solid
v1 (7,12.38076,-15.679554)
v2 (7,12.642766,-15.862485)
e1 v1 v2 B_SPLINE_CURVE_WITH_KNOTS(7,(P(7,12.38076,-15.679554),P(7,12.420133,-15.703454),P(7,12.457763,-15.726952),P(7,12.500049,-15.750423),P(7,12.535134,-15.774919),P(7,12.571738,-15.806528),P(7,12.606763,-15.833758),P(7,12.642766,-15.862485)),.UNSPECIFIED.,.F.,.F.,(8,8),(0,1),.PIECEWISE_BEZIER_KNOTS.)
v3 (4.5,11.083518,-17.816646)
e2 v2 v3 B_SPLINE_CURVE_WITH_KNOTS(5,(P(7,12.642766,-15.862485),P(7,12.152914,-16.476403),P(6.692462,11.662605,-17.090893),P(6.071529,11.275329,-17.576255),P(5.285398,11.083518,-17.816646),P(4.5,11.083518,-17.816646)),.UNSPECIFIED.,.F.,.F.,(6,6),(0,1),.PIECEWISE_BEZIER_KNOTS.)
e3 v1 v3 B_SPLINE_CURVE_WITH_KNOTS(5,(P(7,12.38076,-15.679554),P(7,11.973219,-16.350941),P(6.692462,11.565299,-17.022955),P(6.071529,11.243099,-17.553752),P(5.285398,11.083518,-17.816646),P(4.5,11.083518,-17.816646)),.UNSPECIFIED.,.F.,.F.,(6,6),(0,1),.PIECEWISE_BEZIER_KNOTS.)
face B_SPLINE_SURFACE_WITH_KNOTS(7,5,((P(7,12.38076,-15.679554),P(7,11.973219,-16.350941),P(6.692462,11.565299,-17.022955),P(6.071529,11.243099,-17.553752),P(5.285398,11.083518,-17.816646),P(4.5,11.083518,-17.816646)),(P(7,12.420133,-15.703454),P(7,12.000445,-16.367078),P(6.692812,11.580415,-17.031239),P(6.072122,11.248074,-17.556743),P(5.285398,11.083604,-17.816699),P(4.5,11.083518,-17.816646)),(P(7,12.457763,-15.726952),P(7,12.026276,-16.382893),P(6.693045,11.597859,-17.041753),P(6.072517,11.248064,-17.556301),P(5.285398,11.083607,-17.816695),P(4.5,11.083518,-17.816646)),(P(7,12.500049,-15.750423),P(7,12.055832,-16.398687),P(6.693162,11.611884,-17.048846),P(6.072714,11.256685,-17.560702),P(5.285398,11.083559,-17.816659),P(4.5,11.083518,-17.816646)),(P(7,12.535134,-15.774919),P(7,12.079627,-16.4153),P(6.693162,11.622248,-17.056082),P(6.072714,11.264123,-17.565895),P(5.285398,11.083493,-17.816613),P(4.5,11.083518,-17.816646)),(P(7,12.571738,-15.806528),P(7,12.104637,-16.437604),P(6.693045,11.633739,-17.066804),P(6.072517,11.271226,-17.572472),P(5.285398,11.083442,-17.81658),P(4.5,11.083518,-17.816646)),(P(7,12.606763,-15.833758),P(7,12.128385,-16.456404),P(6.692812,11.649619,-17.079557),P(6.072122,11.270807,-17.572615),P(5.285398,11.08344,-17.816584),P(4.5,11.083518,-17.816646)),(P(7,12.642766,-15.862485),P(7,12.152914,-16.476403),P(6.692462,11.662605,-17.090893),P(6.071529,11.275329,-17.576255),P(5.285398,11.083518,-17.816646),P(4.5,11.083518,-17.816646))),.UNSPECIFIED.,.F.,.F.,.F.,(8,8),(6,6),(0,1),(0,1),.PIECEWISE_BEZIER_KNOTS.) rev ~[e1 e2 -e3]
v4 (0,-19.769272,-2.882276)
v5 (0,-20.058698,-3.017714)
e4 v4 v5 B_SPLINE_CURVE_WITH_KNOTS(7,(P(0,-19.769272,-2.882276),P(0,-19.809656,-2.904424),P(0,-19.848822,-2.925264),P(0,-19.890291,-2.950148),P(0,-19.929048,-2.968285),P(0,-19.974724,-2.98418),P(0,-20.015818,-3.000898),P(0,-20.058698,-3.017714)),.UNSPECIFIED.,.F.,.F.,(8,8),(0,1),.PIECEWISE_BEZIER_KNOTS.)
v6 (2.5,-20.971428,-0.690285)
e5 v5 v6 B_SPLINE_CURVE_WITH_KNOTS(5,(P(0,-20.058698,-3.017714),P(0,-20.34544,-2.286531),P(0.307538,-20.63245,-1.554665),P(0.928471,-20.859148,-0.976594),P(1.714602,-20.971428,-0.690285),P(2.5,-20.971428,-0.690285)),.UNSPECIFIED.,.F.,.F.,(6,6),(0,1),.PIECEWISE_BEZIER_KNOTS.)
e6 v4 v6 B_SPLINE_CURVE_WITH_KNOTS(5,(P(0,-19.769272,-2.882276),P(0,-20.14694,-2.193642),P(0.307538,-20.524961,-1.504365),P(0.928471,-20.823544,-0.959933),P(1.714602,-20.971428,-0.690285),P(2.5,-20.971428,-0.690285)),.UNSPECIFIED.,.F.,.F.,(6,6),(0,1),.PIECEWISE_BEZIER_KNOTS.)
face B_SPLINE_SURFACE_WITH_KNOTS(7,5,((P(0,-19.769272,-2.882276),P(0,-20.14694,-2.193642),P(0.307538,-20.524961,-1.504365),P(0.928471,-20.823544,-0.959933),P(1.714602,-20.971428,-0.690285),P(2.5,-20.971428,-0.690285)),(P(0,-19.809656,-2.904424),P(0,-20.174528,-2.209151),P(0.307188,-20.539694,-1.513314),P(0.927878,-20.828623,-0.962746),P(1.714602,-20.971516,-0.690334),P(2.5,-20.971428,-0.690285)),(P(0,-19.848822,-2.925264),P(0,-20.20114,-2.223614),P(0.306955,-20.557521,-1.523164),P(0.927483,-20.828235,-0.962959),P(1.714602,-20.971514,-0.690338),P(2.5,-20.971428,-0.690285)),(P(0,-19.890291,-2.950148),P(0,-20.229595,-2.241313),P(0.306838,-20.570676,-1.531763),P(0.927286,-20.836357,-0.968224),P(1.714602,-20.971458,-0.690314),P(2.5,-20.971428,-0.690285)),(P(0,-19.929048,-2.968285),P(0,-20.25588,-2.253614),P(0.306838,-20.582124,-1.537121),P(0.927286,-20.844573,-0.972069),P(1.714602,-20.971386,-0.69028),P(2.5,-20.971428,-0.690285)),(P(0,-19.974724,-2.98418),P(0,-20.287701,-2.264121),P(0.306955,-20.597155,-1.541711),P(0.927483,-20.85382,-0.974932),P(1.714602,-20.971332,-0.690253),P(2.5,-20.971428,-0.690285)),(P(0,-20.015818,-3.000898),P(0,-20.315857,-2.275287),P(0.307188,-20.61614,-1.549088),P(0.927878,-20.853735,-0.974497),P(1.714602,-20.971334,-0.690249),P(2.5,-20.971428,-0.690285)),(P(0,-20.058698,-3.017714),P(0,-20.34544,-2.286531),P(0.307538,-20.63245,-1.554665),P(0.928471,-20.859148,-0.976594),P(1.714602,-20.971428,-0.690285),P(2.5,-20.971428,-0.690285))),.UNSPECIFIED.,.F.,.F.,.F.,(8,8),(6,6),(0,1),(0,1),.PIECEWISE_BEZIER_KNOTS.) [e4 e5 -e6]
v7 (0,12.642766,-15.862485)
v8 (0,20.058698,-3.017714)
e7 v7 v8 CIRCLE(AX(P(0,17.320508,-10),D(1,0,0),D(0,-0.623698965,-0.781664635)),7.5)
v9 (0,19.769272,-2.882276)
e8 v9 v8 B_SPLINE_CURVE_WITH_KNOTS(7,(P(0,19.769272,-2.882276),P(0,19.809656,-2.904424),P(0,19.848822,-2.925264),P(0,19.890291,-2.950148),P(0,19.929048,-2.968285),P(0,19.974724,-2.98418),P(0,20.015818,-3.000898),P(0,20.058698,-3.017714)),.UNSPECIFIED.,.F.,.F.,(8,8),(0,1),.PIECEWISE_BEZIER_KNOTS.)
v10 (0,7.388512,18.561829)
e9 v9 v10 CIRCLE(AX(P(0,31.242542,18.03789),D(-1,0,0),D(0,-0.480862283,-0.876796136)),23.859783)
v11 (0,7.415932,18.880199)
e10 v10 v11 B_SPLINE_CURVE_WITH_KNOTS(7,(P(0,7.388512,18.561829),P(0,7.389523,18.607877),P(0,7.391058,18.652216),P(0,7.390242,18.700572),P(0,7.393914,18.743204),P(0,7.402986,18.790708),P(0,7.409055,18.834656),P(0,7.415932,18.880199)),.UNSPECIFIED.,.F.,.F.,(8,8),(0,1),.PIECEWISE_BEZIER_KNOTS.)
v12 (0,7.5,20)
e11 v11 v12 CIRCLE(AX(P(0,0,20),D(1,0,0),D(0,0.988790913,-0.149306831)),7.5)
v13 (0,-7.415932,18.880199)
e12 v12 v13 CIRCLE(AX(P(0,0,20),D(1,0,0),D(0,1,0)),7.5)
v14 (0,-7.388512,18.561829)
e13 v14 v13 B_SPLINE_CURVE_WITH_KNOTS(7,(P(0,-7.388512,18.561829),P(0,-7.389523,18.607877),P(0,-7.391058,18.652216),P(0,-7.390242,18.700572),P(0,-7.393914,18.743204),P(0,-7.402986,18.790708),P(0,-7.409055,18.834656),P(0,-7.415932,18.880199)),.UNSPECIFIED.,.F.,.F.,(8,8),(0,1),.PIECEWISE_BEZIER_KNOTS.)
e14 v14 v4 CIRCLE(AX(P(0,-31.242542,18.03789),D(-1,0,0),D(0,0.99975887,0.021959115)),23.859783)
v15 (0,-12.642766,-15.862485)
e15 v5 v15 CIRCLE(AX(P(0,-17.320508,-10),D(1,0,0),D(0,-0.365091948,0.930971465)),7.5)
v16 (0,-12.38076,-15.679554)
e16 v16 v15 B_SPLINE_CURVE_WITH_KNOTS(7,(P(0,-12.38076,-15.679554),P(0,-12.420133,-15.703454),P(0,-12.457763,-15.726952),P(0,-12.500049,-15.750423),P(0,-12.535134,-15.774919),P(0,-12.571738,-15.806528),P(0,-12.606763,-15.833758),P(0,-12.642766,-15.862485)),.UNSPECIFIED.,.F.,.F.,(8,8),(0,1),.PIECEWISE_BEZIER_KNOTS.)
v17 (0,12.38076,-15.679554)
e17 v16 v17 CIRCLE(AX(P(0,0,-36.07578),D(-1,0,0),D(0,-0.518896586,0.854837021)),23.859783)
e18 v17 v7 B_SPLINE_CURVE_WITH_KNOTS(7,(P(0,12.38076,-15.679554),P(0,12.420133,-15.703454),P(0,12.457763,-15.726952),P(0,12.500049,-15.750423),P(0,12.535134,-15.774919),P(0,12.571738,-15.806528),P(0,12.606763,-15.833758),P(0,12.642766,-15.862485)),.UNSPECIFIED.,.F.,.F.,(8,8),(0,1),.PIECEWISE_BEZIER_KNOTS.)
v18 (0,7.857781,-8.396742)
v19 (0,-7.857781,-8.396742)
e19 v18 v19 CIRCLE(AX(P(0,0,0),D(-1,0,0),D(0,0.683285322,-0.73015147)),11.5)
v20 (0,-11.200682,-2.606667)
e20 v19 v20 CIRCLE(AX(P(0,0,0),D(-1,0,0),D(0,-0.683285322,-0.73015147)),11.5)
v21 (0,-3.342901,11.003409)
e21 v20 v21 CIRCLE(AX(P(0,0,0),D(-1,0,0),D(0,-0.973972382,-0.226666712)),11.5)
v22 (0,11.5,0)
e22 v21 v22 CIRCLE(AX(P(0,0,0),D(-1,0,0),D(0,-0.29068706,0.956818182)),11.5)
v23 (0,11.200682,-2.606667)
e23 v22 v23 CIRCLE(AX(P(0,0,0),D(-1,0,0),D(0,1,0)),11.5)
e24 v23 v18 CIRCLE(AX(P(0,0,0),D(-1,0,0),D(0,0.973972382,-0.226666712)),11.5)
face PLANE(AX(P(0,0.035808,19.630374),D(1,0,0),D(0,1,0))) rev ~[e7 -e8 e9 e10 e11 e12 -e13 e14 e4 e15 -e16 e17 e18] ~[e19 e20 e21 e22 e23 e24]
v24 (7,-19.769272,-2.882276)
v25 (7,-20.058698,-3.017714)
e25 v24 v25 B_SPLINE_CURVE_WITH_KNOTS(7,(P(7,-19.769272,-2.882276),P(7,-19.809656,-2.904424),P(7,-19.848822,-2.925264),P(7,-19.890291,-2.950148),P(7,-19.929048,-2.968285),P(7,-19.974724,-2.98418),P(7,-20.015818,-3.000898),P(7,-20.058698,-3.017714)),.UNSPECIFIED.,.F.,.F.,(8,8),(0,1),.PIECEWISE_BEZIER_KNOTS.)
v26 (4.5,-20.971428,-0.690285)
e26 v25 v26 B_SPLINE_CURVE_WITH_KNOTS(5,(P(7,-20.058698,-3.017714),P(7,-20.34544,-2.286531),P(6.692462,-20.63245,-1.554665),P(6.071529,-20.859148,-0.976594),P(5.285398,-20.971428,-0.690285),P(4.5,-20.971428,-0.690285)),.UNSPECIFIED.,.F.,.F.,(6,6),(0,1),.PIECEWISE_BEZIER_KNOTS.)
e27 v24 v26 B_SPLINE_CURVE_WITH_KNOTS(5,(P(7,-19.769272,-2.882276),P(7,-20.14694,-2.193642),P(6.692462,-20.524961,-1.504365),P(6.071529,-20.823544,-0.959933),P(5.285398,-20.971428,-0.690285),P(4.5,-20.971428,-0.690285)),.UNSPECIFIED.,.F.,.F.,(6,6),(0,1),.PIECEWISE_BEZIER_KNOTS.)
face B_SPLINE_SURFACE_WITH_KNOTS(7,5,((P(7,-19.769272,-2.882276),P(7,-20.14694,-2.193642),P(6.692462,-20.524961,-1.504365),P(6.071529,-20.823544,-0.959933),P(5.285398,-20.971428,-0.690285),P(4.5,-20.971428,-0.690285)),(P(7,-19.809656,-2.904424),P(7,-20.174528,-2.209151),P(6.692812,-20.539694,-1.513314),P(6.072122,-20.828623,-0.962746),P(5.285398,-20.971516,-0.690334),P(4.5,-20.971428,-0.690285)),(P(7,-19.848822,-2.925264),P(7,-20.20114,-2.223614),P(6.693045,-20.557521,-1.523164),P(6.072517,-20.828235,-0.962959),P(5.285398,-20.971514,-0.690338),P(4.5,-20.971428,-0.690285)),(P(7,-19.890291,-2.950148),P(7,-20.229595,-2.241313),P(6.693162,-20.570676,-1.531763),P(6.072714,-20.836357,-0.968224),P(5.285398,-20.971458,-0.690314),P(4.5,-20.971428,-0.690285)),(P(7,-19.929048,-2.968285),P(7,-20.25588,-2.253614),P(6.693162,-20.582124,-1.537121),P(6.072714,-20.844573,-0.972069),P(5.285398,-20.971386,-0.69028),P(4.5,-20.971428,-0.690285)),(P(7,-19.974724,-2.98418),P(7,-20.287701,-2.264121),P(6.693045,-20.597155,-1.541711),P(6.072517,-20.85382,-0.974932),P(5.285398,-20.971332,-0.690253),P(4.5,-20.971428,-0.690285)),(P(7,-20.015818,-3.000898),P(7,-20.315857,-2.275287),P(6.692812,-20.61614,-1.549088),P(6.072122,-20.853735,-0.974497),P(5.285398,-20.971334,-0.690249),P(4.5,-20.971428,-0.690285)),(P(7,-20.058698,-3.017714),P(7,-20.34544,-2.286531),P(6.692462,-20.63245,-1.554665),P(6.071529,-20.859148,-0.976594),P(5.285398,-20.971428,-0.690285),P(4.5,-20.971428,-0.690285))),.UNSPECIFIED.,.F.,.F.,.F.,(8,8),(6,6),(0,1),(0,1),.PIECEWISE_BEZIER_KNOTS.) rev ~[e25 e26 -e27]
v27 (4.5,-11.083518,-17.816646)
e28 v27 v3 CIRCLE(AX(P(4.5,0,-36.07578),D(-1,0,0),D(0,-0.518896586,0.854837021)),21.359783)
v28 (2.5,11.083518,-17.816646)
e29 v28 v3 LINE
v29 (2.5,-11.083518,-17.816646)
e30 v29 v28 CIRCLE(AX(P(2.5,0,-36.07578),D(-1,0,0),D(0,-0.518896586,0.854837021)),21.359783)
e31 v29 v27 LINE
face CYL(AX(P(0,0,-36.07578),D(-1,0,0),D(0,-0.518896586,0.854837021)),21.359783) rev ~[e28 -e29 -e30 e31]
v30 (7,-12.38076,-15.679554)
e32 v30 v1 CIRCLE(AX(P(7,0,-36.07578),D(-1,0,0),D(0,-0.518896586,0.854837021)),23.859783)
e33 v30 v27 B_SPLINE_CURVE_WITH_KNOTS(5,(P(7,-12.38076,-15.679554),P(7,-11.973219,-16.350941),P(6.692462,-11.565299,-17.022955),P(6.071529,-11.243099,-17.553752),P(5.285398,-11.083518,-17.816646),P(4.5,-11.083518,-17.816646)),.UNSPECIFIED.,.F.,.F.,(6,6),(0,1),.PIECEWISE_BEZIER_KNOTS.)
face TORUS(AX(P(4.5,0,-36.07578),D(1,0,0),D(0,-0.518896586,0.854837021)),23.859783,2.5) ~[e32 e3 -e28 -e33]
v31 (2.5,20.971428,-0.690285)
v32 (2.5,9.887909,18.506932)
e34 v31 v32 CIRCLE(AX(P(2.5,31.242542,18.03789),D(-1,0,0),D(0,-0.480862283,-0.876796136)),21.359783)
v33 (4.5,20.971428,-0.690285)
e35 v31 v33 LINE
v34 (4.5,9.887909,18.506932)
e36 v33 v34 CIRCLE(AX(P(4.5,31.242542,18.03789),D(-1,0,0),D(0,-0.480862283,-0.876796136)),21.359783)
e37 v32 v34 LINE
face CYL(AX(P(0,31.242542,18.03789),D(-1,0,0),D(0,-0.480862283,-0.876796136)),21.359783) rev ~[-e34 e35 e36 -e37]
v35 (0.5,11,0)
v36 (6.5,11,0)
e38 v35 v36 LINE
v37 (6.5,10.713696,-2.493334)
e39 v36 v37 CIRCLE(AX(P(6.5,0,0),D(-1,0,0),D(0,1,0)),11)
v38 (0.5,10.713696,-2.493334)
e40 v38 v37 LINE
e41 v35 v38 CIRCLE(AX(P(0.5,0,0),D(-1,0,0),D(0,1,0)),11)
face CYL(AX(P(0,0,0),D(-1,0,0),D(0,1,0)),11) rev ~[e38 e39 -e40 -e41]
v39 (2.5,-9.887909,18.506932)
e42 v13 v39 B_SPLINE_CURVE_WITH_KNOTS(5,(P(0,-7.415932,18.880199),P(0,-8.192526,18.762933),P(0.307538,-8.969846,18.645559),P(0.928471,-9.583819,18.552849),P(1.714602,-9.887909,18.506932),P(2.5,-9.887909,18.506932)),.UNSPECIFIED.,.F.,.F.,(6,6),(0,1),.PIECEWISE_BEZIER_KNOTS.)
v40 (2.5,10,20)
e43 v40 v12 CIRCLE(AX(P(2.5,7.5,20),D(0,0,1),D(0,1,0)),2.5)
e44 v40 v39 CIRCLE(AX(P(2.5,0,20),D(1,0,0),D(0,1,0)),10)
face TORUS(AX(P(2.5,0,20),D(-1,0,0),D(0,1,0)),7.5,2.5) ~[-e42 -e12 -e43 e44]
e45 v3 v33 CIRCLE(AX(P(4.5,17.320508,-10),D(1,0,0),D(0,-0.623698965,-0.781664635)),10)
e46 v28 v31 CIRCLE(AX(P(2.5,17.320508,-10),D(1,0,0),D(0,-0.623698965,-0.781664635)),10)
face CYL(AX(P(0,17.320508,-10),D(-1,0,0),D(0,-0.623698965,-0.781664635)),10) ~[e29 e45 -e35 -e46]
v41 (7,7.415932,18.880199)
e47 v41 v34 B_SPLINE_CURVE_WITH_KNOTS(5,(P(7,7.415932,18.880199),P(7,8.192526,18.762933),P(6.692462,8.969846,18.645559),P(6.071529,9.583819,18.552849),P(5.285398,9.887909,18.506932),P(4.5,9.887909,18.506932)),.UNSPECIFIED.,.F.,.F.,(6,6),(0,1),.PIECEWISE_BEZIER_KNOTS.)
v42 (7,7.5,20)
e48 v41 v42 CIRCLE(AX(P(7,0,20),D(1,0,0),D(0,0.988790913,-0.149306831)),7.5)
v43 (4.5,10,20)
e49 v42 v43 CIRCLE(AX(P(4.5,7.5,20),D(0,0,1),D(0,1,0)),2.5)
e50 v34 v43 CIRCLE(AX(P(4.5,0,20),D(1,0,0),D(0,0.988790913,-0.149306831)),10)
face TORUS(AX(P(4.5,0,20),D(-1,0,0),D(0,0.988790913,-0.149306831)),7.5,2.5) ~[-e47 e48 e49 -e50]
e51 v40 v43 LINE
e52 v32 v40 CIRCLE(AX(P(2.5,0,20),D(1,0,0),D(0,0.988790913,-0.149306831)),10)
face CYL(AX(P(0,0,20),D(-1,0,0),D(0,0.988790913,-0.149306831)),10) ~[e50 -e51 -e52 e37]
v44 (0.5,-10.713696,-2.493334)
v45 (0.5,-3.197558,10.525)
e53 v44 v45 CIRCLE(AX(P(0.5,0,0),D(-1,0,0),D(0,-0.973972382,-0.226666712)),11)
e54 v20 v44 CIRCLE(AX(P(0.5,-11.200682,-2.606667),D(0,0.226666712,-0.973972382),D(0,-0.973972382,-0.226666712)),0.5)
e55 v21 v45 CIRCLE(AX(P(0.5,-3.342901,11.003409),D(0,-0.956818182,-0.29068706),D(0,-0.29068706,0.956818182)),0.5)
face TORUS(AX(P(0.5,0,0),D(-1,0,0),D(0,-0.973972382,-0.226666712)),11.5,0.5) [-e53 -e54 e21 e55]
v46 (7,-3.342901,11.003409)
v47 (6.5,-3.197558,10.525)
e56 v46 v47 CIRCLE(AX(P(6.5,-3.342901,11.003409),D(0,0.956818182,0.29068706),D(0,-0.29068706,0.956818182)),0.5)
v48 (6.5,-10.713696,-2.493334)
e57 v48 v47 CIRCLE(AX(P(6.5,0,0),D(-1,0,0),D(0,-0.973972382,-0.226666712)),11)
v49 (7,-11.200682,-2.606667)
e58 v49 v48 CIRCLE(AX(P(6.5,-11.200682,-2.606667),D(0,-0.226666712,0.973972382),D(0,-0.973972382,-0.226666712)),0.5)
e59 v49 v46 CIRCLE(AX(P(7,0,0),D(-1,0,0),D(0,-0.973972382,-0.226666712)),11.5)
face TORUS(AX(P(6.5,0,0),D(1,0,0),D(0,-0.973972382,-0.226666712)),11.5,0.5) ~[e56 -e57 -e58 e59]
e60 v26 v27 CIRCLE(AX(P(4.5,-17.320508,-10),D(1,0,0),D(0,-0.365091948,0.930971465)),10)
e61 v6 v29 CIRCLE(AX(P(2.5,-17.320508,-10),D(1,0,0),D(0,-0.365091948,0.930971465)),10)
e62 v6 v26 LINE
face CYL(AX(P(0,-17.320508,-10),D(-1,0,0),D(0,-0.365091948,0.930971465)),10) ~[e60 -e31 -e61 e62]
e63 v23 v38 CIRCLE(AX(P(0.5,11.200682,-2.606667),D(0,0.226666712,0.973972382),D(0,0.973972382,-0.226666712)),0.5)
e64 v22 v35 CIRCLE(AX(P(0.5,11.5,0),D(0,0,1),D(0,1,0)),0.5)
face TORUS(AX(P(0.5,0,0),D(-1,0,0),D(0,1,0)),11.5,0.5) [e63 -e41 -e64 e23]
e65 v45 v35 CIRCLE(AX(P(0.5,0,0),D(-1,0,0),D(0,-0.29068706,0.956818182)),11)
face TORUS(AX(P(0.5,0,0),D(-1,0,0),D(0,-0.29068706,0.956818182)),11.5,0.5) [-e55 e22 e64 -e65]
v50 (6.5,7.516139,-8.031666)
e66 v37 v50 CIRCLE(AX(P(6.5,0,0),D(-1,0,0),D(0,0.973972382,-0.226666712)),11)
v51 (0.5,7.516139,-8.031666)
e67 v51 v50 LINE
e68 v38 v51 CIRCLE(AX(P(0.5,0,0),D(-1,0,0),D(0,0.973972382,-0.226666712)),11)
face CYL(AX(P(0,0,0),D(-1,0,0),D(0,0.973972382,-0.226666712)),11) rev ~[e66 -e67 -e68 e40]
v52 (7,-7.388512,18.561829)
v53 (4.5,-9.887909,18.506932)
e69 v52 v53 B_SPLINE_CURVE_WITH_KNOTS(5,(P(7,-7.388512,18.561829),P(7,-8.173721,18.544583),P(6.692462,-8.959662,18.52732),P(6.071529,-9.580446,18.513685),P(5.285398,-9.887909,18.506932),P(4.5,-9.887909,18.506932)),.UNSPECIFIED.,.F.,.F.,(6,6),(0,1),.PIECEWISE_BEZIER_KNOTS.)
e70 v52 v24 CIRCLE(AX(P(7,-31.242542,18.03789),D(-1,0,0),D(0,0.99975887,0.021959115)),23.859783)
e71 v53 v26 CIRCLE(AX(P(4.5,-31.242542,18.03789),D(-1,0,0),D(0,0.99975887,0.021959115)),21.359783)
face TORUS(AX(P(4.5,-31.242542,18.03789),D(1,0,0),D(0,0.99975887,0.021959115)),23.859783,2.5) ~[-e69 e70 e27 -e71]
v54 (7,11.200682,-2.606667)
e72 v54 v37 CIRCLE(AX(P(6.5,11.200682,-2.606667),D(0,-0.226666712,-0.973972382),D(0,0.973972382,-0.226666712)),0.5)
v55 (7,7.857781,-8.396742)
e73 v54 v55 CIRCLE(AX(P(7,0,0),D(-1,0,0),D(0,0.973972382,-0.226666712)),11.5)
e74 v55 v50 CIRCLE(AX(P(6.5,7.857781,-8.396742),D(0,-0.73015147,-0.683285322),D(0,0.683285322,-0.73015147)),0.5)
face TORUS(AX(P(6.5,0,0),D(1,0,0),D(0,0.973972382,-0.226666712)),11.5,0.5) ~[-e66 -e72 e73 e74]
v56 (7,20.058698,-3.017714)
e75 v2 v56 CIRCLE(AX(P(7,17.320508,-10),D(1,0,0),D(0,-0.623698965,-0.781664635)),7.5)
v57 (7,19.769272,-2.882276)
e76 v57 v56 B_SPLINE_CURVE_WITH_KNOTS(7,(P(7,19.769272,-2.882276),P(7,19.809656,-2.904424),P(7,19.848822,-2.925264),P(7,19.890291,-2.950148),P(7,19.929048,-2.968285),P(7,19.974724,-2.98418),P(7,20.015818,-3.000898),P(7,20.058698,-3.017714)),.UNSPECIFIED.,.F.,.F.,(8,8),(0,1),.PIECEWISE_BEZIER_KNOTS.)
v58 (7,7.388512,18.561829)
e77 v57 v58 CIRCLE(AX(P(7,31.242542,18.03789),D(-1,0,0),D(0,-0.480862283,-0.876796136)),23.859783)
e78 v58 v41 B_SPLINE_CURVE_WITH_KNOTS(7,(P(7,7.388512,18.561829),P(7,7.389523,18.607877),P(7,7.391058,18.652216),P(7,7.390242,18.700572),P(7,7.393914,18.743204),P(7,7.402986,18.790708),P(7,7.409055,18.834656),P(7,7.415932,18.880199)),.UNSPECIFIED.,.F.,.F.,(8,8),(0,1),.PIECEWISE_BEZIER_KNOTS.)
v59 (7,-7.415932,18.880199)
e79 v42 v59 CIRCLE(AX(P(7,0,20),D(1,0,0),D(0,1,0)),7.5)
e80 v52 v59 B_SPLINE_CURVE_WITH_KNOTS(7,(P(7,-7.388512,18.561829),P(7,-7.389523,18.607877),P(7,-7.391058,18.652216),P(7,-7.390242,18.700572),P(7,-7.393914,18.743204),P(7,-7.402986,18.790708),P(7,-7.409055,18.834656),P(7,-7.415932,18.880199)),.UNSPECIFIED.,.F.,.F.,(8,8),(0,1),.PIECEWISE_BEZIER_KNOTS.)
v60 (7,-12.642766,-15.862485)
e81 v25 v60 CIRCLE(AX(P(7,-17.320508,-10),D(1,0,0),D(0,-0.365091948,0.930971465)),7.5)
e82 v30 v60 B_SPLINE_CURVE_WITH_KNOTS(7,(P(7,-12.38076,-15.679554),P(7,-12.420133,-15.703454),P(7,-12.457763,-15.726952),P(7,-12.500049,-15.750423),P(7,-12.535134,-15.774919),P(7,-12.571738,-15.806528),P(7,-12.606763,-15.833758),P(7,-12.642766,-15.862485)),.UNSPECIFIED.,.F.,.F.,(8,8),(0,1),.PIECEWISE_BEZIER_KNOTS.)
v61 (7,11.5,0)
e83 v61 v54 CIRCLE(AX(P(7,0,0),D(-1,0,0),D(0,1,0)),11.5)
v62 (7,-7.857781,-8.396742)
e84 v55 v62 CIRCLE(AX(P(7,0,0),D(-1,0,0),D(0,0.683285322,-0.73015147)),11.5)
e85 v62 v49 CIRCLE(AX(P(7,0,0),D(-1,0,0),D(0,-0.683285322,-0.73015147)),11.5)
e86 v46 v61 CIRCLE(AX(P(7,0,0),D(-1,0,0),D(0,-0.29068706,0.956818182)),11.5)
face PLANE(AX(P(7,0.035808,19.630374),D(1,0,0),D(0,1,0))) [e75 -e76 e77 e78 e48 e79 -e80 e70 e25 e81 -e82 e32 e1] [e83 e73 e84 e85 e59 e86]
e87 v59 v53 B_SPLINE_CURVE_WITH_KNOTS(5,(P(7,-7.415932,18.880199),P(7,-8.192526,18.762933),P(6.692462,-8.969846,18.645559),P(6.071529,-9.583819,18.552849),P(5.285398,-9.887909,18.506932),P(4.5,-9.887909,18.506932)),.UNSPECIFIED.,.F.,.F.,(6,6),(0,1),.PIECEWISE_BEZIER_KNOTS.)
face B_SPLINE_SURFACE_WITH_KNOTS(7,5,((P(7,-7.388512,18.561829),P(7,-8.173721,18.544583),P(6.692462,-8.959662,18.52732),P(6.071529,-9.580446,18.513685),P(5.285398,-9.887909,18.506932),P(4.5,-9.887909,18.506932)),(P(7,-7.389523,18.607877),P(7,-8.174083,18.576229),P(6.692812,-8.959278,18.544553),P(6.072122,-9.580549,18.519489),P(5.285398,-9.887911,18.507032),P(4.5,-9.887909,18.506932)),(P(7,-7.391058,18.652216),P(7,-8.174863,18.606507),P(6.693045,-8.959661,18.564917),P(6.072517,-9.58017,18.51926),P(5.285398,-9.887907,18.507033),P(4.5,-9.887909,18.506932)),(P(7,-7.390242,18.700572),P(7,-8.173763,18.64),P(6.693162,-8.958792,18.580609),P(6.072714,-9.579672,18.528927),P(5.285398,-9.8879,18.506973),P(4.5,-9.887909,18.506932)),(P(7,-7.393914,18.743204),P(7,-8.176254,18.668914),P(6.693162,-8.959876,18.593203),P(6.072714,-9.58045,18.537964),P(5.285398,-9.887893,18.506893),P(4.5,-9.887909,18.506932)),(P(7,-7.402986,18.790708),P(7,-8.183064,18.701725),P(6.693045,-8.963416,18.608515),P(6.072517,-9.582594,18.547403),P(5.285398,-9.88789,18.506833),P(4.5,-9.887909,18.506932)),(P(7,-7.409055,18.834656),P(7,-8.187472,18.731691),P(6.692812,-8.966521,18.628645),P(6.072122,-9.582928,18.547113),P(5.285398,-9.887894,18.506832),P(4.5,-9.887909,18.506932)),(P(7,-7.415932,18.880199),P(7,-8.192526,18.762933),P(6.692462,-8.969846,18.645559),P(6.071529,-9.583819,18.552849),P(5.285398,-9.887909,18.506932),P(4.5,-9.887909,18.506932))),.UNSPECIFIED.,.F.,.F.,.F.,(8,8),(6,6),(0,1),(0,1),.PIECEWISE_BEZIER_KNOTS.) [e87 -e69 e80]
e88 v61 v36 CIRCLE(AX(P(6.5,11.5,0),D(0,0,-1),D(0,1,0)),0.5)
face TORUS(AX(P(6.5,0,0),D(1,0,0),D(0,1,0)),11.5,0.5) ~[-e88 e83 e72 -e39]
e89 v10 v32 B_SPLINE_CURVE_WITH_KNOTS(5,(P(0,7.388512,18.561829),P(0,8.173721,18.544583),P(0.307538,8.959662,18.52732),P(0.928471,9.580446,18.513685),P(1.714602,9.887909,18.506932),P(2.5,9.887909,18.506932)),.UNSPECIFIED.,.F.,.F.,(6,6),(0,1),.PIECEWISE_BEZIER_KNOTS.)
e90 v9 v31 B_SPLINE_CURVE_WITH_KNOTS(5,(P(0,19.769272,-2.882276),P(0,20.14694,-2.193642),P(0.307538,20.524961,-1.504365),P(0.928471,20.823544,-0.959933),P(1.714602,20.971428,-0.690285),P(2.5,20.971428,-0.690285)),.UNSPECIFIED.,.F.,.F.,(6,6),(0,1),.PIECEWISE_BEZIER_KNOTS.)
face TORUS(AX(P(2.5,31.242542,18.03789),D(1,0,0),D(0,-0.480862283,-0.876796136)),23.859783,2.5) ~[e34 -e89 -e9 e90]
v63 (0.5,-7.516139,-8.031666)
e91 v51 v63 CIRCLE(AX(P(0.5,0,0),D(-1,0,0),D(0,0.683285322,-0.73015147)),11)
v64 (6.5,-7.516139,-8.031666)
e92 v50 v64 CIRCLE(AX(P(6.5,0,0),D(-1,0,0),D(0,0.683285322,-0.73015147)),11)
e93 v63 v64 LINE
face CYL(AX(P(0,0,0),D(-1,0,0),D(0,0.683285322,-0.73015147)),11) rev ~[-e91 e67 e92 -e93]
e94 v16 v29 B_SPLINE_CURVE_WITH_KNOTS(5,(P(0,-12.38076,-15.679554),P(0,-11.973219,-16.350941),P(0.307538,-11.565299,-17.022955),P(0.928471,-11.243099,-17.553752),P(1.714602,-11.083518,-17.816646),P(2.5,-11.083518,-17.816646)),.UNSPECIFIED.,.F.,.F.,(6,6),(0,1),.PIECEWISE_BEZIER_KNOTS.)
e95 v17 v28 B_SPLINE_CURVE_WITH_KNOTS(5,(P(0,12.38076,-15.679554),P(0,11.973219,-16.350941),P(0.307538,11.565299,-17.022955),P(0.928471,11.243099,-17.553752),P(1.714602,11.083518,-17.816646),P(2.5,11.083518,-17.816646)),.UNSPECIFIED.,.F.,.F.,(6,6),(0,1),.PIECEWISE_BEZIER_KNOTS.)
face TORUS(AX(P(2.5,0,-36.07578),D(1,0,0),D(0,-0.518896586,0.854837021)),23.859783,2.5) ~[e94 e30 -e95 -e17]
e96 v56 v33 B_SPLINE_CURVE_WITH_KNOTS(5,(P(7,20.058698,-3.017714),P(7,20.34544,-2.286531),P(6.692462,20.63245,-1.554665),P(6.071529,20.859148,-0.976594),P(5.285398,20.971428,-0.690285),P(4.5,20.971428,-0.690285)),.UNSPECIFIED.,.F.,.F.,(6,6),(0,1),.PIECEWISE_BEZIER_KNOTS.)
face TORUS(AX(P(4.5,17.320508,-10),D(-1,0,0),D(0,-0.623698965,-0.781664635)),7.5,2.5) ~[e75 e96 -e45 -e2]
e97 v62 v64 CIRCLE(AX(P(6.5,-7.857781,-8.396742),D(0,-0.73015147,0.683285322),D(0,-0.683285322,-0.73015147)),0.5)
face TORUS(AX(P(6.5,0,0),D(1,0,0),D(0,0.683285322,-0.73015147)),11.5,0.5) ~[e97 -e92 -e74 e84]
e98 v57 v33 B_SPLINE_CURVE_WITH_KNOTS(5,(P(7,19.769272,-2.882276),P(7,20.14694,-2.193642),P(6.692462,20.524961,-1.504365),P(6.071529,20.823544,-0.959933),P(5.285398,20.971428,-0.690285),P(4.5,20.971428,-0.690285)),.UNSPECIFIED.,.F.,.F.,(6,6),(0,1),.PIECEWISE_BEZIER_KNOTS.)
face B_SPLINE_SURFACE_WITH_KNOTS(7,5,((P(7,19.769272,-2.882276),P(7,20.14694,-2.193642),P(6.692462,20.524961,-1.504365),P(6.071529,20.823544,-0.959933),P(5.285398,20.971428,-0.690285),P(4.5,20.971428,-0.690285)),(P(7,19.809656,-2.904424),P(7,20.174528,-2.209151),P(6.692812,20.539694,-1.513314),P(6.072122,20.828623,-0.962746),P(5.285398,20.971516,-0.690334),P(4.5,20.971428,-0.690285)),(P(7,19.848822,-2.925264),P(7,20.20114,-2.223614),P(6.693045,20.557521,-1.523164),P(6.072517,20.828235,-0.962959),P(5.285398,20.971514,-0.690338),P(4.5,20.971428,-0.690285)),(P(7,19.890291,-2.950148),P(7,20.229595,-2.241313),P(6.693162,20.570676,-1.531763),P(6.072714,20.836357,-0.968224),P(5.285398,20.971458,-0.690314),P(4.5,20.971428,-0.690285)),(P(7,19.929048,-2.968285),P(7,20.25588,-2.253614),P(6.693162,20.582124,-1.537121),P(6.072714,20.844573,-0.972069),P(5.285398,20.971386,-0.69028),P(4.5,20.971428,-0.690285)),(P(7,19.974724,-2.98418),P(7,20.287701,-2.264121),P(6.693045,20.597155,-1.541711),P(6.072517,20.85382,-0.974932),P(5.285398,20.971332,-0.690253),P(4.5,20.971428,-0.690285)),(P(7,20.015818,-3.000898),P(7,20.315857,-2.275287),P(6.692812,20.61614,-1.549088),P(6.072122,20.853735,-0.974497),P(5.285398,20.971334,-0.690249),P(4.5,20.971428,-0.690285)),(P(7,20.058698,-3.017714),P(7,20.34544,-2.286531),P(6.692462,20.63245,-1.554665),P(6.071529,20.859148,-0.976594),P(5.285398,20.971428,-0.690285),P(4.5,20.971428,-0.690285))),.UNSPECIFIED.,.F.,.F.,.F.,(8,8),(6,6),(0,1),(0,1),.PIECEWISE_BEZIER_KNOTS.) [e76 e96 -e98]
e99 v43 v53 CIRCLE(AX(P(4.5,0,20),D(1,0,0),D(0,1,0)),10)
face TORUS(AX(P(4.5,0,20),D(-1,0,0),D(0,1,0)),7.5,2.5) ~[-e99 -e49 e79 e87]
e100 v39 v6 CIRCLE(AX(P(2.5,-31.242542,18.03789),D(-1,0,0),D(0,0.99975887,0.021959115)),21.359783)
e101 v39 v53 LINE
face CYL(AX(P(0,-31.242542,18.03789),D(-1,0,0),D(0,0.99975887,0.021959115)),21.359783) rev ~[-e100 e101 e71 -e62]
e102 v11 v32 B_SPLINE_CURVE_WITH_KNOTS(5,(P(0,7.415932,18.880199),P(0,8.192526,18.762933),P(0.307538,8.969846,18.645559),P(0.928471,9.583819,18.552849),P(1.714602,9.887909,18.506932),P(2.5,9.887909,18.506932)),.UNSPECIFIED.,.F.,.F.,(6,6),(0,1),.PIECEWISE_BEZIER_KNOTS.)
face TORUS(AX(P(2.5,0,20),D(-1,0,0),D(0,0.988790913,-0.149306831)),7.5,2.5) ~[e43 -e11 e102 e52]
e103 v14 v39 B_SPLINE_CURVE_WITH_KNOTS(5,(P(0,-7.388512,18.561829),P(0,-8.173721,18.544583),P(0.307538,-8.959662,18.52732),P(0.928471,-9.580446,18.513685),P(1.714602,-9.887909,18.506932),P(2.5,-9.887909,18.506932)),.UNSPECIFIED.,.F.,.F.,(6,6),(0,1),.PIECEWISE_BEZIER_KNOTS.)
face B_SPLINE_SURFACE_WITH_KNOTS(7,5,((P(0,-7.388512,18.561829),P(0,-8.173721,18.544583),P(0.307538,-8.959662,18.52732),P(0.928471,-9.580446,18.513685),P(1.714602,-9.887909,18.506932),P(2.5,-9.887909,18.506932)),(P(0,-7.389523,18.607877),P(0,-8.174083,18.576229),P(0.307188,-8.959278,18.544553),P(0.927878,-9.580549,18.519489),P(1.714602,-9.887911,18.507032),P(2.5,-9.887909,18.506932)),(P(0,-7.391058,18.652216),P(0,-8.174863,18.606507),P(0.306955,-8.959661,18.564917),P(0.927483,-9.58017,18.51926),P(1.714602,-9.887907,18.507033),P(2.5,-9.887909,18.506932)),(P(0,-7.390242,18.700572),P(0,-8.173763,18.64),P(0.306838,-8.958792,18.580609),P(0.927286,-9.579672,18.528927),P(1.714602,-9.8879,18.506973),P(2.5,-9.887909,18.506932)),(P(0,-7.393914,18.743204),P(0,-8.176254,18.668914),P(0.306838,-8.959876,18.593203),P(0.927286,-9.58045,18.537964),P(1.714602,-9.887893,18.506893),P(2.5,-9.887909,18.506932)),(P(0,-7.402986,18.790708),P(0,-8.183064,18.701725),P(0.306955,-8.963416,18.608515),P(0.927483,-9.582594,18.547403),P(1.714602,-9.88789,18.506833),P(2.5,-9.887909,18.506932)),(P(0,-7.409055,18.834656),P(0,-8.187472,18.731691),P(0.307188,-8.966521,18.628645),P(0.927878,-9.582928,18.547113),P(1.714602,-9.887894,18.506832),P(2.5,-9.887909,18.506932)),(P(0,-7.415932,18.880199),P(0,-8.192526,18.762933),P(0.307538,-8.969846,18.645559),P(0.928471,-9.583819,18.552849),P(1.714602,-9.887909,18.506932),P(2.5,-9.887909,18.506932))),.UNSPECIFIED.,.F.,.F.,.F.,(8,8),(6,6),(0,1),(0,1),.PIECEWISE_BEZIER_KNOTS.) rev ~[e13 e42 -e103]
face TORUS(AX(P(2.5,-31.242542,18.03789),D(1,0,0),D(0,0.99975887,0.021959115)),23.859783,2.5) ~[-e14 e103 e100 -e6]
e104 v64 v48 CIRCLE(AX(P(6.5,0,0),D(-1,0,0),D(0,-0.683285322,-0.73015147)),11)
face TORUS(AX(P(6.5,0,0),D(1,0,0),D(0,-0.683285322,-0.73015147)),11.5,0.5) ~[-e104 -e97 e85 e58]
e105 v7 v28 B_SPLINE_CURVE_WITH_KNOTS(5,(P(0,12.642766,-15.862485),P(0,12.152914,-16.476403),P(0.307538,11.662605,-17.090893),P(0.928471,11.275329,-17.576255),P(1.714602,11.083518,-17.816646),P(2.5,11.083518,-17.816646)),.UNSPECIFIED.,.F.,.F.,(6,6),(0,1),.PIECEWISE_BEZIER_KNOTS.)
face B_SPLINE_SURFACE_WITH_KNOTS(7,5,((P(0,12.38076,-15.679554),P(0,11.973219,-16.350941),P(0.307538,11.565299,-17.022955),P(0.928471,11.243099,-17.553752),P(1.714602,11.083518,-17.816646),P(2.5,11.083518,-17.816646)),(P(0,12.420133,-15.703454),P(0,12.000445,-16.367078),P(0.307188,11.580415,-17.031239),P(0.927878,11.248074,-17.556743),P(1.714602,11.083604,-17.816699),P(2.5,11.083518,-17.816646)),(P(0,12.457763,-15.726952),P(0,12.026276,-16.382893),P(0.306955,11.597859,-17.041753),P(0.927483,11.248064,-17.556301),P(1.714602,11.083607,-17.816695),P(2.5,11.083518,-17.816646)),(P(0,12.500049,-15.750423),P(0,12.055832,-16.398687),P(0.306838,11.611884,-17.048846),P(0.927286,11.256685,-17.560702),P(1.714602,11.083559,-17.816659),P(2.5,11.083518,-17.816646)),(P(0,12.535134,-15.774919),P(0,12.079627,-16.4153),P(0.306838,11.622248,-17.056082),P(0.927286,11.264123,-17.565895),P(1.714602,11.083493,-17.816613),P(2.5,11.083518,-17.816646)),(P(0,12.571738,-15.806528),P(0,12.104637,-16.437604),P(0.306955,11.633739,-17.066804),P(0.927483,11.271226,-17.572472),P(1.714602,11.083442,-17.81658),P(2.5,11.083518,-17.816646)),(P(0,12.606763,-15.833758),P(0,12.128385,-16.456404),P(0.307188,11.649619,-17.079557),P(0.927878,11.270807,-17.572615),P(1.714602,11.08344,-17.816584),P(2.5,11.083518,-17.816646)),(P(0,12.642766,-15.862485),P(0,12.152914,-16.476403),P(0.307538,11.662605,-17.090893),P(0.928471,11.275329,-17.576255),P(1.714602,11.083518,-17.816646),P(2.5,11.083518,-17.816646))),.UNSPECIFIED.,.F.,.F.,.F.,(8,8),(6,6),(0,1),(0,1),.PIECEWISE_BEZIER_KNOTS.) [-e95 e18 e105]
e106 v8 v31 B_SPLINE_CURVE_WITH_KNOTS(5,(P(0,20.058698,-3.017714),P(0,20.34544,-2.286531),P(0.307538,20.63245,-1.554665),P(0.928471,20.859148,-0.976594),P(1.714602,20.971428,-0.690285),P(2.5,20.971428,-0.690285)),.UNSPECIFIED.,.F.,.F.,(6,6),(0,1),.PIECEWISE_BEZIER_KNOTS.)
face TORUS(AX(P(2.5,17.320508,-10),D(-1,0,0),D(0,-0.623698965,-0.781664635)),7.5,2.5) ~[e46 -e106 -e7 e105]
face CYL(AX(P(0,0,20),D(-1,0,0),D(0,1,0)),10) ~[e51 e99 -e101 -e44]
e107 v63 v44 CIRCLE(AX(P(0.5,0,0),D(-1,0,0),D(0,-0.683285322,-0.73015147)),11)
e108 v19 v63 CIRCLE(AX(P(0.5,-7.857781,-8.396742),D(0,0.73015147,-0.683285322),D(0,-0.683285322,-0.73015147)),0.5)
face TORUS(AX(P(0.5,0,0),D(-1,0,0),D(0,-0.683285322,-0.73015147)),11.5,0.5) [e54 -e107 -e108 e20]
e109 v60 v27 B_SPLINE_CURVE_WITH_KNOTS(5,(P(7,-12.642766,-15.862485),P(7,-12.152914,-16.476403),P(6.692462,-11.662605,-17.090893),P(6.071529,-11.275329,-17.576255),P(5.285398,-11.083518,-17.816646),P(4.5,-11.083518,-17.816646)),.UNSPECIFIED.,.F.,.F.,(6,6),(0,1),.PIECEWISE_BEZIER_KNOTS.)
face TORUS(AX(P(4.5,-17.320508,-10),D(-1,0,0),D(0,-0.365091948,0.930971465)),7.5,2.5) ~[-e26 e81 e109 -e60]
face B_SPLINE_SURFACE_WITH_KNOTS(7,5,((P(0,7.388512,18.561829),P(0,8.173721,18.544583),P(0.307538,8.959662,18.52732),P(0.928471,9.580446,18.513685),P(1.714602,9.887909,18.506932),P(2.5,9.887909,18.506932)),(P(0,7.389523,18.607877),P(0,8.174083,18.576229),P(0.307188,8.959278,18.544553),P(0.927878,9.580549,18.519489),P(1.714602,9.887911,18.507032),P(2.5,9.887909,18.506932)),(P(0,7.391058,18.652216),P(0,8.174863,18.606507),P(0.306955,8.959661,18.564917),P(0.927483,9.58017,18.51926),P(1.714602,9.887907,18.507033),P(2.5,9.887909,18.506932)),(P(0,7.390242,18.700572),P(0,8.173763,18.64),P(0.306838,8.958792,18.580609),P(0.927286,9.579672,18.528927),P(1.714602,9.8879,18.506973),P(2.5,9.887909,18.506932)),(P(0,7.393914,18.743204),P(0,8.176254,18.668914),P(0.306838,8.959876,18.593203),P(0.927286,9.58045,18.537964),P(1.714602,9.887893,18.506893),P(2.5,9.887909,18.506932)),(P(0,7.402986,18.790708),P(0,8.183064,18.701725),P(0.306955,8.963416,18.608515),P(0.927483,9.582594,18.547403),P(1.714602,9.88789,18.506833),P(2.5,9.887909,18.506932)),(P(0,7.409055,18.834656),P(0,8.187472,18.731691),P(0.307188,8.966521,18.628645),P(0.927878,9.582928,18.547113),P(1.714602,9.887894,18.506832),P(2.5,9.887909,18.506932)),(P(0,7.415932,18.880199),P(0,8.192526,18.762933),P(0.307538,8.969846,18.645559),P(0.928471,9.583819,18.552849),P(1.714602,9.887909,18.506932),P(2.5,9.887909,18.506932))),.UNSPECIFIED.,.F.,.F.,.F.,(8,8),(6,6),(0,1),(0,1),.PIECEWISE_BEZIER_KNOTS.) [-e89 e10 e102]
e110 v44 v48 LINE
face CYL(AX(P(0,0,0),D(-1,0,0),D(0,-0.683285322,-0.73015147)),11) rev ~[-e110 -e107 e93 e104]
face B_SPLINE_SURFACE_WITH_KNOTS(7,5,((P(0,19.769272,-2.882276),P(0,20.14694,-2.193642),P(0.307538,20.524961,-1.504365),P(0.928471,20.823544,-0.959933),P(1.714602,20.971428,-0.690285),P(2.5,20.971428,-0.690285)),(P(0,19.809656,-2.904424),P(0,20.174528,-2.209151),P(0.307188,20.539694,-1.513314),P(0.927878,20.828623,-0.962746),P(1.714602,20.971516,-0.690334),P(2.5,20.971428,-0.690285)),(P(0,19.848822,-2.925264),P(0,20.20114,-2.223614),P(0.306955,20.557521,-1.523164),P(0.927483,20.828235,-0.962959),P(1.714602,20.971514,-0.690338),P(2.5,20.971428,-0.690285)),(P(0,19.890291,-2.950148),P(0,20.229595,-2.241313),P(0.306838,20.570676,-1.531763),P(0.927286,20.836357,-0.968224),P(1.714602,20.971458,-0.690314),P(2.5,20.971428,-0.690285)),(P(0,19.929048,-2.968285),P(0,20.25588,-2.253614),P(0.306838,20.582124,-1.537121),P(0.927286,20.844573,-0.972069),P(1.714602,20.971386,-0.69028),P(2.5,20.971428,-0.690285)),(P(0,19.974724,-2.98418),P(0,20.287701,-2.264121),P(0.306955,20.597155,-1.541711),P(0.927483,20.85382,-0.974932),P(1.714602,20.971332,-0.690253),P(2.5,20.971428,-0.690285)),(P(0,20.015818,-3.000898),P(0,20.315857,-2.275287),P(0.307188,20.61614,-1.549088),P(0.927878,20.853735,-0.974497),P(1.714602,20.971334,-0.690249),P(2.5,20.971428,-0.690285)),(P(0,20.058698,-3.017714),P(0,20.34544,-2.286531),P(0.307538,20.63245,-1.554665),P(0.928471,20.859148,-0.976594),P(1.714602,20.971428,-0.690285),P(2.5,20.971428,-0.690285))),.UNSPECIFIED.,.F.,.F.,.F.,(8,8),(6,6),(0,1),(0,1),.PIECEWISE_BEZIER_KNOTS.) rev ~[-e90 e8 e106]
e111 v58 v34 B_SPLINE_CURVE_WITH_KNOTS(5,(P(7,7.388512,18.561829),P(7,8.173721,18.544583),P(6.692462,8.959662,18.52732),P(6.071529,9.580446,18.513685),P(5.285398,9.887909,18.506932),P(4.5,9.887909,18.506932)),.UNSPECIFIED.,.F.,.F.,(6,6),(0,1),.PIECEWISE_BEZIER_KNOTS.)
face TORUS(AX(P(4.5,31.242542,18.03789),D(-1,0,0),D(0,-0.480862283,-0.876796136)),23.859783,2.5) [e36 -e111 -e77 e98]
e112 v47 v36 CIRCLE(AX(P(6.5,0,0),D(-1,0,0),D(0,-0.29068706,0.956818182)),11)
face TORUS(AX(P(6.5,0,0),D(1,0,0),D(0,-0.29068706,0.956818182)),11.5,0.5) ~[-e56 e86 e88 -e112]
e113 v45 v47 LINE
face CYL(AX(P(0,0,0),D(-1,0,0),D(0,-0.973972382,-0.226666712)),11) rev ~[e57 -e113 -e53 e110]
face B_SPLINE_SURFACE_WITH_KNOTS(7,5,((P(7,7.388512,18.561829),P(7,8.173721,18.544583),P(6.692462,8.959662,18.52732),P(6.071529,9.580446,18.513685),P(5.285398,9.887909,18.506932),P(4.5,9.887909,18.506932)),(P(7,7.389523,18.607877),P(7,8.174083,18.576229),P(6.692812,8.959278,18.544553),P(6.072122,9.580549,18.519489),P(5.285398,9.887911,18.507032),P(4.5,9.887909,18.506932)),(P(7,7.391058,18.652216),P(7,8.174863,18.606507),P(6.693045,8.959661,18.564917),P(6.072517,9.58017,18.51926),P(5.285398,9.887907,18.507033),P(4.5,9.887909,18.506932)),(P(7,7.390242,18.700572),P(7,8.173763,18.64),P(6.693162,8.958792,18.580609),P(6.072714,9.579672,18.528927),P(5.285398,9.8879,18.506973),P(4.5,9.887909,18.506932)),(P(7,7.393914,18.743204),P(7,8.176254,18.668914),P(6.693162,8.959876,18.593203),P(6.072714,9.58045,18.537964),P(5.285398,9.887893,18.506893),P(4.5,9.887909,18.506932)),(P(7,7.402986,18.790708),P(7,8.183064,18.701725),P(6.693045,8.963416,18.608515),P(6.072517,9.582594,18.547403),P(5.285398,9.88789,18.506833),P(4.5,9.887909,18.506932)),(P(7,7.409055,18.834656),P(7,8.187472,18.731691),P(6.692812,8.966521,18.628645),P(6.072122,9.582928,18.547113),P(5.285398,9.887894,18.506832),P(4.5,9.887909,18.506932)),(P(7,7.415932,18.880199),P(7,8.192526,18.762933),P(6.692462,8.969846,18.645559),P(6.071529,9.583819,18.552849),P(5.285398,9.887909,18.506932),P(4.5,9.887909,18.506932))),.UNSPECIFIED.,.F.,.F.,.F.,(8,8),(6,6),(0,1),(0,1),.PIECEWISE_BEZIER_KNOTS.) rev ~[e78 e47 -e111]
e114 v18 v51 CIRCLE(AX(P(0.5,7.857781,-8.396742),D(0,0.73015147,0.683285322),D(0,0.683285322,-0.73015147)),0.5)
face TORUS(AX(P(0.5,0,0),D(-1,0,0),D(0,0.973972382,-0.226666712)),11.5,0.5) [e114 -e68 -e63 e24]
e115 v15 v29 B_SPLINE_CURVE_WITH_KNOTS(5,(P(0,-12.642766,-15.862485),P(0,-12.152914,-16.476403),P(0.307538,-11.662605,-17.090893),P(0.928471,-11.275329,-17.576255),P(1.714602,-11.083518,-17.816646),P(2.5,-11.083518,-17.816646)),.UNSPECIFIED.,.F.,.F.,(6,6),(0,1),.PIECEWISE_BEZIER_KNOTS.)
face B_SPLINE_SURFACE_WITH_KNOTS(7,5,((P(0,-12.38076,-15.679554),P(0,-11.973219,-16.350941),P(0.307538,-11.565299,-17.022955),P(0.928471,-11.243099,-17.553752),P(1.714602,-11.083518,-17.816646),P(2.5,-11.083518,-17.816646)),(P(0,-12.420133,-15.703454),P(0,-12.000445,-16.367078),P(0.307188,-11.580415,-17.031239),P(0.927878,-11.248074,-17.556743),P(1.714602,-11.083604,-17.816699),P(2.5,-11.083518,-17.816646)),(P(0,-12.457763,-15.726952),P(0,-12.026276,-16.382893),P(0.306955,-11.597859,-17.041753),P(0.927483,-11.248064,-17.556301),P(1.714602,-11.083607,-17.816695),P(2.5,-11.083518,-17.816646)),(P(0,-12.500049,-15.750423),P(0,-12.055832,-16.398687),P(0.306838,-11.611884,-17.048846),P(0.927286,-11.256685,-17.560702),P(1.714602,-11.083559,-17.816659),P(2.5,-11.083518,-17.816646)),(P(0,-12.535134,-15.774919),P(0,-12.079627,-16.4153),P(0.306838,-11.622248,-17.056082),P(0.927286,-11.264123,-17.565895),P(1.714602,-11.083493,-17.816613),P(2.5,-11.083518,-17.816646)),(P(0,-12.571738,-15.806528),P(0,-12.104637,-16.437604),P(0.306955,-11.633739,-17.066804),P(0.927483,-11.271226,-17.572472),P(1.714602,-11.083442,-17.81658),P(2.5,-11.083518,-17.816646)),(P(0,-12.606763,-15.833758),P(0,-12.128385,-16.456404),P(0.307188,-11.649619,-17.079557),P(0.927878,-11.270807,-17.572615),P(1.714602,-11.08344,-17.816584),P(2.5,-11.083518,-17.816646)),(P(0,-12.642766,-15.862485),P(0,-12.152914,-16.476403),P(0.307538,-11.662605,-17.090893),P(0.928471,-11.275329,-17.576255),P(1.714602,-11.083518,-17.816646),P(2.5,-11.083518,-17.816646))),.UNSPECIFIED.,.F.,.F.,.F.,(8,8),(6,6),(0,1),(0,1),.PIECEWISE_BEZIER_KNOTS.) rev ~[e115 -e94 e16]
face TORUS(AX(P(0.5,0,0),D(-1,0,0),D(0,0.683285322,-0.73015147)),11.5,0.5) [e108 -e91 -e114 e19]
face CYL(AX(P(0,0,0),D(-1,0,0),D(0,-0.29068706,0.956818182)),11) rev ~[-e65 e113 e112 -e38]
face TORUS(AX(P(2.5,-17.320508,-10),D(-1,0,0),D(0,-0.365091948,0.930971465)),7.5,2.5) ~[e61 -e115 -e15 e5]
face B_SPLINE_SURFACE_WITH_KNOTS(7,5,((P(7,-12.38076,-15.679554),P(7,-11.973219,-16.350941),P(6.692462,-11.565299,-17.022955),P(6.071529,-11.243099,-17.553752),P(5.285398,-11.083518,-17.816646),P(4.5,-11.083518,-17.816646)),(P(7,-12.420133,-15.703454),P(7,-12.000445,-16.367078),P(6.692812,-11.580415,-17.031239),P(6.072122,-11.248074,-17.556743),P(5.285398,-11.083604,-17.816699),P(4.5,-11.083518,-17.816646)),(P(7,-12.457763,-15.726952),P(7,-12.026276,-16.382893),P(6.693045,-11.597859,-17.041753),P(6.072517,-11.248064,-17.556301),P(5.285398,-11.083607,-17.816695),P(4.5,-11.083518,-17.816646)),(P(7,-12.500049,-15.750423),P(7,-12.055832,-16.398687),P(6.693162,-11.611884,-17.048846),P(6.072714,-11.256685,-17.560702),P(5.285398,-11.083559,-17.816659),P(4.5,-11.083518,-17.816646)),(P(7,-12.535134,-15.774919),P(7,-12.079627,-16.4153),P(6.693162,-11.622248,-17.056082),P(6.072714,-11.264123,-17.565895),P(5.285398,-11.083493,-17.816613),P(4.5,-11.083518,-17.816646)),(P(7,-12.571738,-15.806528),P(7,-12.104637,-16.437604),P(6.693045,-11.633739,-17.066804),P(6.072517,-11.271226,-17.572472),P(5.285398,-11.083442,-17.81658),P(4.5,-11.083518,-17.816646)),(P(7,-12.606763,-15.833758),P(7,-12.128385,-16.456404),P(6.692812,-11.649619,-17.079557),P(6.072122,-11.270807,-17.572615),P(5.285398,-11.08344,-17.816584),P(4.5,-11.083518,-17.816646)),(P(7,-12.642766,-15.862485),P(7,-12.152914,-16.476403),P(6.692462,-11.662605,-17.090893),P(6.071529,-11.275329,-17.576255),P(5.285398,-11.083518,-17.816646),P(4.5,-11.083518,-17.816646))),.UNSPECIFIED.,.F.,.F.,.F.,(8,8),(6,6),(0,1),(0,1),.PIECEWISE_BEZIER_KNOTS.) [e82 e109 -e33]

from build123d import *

# Parameters (mm, degrees)
F1_DEPTH = 7
F2_R     = 2.5
F3_R     = 0.5


with BuildPart() as f1:
    # F0 (on Right) → F1 (new body)
    with BuildSketch(Plane.YZ):
        with BuildLine():
            ThreePointArc((9.8879091333, 18.5069316923), (9.9719379093, 19.2513650199), (10, 20))
            ThreePointArc((10, 20), (-0.7486349801, 29.9719379093), (-9.8879091333, 18.5069316923))
            ThreePointArc((-9.8879091333, 18.5069316923), (-7.6638873097, 13.576229199), (-3.1975576617, 10.525))
            ThreePointArc((-3.1975576617, 10.525), (0, 11), (3.1975576617, 10.525))
            ThreePointArc((3.1975576617, 10.525), (7.6638873097, 13.576229199), (9.8879091333, 18.5069316923))
        make_face()
        with BuildLine():
            ThreePointArc((-3.1975576617, 10.525), (-7.6638873097, 13.576229199), (-9.8879091333, 18.5069316923))
            ThreePointArc((-9.8879091333, 18.5069316923), (-12.744426926, 7.3579983164), (-20.9714275583, -0.6902853464))
            ThreePointArc((-20.9714275583, -0.6902853464), (-15.5893030288, -0.1509934975), (-10.7136962057, -2.4933338349))
            ThreePointArc((-10.7136962057, -2.4933338349), (-9.5262794416, 5.5), (-3.1975576617, 10.525))
        make_face()
        with BuildLine():
            ThreePointArc((20.9714275583, -0.6902853464), (12.744426926, 7.3579983164), (9.8879091333, 18.5069316923))
            ThreePointArc((9.8879091333, 18.5069316923), (7.6638873097, 13.576229199), (3.1975576617, 10.525))
            ThreePointArc((3.1975576617, 10.525), (8.8366604065, 6.5508345163), (11, 0))
            ThreePointArc((11, 0), (10.9281896548, -1.2548589039), (10.7136962057, -2.4933338349))
            ThreePointArc((10.7136962057, -2.4933338349), (15.5893030288, -0.1509934975), (20.9714275583, -0.6902853464))
        make_face()
        with BuildLine():
            ThreePointArc((-10.7136962057, -2.4933338349), (-15.5893030288, -0.1509934975), (-20.9714275583, -0.6902853464))
            ThreePointArc((-20.9714275583, -0.6902853464), (-25.9807621135, -15), (-11.083518425, -17.8166463459))
            ThreePointArc((-11.083518425, -17.8166463459), (-8.3102390312, -14.3376320437), (-7.3205080757, -10))
            ThreePointArc((-7.3205080757, -10), (-7.369535879, -9.0109841551), (-7.516138544, -8.0316661651))
            ThreePointArc((-7.516138544, -8.0316661651), (-9.5262794416, -5.5), (-10.7136962057, -2.4933338349))
        make_face()
        with BuildLine():
            ThreePointArc((27.3205080757, -10), (25.58214214, -4.3656941344), (20.9714275583, -0.6902853464))
            ThreePointArc((20.9714275583, -0.6902853464), (15.5893030288, -0.1509934975), (10.7136962057, -2.4933338349))
            ThreePointArc((10.7136962057, -2.4933338349), (9.5262794416, -5.5), (7.516138544, -8.0316661651))
            ThreePointArc((7.516138544, -8.0316661651), (7.9254157191, -13.4252357014), (11.083518425, -17.8166463459))
            ThreePointArc((11.083518425, -17.8166463459), (21.6581401194, -19.0102690445), (27.3205080757, -10))
        make_face()
        with BuildLine():
            ThreePointArc((-7.3205080757, -10), (-8.3102390312, -14.3376320437), (-11.083518425, -17.8166463459))
            ThreePointArc((-11.083518425, -17.8166463459), (0, -14.7159966328), (11.083518425, -17.8166463459))
            ThreePointArc((11.083518425, -17.8166463459), (7.9254157191, -13.4252357014), (7.516138544, -8.0316661651))
            ThreePointArc((7.516138544, -8.0316661651), (0, -11), (-7.516138544, -8.0316661651))
            ThreePointArc((-7.516138544, -8.0316661651), (-7.369535879, -9.0109841551), (-7.3205080757, -10))
        make_face()
    extrude(amount=F1_DEPTH)

    # F2 (call 1 of 2: OpenCascade refuses the feature's edges together)
    f2_edges = [f1.edges().sort_by_distance(p)[0] for p in [
        (0, -12.744427, 7.357998),
        (0, 0, -14.715997),
        (0, 12.744427, 7.357998),
        (0, 25.980762, -15),
        (0, -25.980762, -15),
        (0, 0, 30),
    ]]
    fillet(f2_edges, radius=F2_R)

    # F2#2 (call 2 of 2)
    f2_2_edges = [f1.edges().sort_by_distance(p)[0] for p in [
        (7, 12.744427, 7.357998),
        (7, -12.744427, 7.357998),
        (7, 0, -14.715997),
        (7, -25.980762, -15),
        (7, 25.980762, -15),
        (7, 0, 30),
    ]]
    fillet(f2_2_edges, radius=F2_R)

    # F3
    f3_edges = [f1.edges().sort_by_distance(p)[0] for p in [
        (0, -7.516139, 8.031666),
        (7, -7.516139, 8.031666),
    ]]
    fillet(f3_edges, radius=F3_R)


solid = f1.part
